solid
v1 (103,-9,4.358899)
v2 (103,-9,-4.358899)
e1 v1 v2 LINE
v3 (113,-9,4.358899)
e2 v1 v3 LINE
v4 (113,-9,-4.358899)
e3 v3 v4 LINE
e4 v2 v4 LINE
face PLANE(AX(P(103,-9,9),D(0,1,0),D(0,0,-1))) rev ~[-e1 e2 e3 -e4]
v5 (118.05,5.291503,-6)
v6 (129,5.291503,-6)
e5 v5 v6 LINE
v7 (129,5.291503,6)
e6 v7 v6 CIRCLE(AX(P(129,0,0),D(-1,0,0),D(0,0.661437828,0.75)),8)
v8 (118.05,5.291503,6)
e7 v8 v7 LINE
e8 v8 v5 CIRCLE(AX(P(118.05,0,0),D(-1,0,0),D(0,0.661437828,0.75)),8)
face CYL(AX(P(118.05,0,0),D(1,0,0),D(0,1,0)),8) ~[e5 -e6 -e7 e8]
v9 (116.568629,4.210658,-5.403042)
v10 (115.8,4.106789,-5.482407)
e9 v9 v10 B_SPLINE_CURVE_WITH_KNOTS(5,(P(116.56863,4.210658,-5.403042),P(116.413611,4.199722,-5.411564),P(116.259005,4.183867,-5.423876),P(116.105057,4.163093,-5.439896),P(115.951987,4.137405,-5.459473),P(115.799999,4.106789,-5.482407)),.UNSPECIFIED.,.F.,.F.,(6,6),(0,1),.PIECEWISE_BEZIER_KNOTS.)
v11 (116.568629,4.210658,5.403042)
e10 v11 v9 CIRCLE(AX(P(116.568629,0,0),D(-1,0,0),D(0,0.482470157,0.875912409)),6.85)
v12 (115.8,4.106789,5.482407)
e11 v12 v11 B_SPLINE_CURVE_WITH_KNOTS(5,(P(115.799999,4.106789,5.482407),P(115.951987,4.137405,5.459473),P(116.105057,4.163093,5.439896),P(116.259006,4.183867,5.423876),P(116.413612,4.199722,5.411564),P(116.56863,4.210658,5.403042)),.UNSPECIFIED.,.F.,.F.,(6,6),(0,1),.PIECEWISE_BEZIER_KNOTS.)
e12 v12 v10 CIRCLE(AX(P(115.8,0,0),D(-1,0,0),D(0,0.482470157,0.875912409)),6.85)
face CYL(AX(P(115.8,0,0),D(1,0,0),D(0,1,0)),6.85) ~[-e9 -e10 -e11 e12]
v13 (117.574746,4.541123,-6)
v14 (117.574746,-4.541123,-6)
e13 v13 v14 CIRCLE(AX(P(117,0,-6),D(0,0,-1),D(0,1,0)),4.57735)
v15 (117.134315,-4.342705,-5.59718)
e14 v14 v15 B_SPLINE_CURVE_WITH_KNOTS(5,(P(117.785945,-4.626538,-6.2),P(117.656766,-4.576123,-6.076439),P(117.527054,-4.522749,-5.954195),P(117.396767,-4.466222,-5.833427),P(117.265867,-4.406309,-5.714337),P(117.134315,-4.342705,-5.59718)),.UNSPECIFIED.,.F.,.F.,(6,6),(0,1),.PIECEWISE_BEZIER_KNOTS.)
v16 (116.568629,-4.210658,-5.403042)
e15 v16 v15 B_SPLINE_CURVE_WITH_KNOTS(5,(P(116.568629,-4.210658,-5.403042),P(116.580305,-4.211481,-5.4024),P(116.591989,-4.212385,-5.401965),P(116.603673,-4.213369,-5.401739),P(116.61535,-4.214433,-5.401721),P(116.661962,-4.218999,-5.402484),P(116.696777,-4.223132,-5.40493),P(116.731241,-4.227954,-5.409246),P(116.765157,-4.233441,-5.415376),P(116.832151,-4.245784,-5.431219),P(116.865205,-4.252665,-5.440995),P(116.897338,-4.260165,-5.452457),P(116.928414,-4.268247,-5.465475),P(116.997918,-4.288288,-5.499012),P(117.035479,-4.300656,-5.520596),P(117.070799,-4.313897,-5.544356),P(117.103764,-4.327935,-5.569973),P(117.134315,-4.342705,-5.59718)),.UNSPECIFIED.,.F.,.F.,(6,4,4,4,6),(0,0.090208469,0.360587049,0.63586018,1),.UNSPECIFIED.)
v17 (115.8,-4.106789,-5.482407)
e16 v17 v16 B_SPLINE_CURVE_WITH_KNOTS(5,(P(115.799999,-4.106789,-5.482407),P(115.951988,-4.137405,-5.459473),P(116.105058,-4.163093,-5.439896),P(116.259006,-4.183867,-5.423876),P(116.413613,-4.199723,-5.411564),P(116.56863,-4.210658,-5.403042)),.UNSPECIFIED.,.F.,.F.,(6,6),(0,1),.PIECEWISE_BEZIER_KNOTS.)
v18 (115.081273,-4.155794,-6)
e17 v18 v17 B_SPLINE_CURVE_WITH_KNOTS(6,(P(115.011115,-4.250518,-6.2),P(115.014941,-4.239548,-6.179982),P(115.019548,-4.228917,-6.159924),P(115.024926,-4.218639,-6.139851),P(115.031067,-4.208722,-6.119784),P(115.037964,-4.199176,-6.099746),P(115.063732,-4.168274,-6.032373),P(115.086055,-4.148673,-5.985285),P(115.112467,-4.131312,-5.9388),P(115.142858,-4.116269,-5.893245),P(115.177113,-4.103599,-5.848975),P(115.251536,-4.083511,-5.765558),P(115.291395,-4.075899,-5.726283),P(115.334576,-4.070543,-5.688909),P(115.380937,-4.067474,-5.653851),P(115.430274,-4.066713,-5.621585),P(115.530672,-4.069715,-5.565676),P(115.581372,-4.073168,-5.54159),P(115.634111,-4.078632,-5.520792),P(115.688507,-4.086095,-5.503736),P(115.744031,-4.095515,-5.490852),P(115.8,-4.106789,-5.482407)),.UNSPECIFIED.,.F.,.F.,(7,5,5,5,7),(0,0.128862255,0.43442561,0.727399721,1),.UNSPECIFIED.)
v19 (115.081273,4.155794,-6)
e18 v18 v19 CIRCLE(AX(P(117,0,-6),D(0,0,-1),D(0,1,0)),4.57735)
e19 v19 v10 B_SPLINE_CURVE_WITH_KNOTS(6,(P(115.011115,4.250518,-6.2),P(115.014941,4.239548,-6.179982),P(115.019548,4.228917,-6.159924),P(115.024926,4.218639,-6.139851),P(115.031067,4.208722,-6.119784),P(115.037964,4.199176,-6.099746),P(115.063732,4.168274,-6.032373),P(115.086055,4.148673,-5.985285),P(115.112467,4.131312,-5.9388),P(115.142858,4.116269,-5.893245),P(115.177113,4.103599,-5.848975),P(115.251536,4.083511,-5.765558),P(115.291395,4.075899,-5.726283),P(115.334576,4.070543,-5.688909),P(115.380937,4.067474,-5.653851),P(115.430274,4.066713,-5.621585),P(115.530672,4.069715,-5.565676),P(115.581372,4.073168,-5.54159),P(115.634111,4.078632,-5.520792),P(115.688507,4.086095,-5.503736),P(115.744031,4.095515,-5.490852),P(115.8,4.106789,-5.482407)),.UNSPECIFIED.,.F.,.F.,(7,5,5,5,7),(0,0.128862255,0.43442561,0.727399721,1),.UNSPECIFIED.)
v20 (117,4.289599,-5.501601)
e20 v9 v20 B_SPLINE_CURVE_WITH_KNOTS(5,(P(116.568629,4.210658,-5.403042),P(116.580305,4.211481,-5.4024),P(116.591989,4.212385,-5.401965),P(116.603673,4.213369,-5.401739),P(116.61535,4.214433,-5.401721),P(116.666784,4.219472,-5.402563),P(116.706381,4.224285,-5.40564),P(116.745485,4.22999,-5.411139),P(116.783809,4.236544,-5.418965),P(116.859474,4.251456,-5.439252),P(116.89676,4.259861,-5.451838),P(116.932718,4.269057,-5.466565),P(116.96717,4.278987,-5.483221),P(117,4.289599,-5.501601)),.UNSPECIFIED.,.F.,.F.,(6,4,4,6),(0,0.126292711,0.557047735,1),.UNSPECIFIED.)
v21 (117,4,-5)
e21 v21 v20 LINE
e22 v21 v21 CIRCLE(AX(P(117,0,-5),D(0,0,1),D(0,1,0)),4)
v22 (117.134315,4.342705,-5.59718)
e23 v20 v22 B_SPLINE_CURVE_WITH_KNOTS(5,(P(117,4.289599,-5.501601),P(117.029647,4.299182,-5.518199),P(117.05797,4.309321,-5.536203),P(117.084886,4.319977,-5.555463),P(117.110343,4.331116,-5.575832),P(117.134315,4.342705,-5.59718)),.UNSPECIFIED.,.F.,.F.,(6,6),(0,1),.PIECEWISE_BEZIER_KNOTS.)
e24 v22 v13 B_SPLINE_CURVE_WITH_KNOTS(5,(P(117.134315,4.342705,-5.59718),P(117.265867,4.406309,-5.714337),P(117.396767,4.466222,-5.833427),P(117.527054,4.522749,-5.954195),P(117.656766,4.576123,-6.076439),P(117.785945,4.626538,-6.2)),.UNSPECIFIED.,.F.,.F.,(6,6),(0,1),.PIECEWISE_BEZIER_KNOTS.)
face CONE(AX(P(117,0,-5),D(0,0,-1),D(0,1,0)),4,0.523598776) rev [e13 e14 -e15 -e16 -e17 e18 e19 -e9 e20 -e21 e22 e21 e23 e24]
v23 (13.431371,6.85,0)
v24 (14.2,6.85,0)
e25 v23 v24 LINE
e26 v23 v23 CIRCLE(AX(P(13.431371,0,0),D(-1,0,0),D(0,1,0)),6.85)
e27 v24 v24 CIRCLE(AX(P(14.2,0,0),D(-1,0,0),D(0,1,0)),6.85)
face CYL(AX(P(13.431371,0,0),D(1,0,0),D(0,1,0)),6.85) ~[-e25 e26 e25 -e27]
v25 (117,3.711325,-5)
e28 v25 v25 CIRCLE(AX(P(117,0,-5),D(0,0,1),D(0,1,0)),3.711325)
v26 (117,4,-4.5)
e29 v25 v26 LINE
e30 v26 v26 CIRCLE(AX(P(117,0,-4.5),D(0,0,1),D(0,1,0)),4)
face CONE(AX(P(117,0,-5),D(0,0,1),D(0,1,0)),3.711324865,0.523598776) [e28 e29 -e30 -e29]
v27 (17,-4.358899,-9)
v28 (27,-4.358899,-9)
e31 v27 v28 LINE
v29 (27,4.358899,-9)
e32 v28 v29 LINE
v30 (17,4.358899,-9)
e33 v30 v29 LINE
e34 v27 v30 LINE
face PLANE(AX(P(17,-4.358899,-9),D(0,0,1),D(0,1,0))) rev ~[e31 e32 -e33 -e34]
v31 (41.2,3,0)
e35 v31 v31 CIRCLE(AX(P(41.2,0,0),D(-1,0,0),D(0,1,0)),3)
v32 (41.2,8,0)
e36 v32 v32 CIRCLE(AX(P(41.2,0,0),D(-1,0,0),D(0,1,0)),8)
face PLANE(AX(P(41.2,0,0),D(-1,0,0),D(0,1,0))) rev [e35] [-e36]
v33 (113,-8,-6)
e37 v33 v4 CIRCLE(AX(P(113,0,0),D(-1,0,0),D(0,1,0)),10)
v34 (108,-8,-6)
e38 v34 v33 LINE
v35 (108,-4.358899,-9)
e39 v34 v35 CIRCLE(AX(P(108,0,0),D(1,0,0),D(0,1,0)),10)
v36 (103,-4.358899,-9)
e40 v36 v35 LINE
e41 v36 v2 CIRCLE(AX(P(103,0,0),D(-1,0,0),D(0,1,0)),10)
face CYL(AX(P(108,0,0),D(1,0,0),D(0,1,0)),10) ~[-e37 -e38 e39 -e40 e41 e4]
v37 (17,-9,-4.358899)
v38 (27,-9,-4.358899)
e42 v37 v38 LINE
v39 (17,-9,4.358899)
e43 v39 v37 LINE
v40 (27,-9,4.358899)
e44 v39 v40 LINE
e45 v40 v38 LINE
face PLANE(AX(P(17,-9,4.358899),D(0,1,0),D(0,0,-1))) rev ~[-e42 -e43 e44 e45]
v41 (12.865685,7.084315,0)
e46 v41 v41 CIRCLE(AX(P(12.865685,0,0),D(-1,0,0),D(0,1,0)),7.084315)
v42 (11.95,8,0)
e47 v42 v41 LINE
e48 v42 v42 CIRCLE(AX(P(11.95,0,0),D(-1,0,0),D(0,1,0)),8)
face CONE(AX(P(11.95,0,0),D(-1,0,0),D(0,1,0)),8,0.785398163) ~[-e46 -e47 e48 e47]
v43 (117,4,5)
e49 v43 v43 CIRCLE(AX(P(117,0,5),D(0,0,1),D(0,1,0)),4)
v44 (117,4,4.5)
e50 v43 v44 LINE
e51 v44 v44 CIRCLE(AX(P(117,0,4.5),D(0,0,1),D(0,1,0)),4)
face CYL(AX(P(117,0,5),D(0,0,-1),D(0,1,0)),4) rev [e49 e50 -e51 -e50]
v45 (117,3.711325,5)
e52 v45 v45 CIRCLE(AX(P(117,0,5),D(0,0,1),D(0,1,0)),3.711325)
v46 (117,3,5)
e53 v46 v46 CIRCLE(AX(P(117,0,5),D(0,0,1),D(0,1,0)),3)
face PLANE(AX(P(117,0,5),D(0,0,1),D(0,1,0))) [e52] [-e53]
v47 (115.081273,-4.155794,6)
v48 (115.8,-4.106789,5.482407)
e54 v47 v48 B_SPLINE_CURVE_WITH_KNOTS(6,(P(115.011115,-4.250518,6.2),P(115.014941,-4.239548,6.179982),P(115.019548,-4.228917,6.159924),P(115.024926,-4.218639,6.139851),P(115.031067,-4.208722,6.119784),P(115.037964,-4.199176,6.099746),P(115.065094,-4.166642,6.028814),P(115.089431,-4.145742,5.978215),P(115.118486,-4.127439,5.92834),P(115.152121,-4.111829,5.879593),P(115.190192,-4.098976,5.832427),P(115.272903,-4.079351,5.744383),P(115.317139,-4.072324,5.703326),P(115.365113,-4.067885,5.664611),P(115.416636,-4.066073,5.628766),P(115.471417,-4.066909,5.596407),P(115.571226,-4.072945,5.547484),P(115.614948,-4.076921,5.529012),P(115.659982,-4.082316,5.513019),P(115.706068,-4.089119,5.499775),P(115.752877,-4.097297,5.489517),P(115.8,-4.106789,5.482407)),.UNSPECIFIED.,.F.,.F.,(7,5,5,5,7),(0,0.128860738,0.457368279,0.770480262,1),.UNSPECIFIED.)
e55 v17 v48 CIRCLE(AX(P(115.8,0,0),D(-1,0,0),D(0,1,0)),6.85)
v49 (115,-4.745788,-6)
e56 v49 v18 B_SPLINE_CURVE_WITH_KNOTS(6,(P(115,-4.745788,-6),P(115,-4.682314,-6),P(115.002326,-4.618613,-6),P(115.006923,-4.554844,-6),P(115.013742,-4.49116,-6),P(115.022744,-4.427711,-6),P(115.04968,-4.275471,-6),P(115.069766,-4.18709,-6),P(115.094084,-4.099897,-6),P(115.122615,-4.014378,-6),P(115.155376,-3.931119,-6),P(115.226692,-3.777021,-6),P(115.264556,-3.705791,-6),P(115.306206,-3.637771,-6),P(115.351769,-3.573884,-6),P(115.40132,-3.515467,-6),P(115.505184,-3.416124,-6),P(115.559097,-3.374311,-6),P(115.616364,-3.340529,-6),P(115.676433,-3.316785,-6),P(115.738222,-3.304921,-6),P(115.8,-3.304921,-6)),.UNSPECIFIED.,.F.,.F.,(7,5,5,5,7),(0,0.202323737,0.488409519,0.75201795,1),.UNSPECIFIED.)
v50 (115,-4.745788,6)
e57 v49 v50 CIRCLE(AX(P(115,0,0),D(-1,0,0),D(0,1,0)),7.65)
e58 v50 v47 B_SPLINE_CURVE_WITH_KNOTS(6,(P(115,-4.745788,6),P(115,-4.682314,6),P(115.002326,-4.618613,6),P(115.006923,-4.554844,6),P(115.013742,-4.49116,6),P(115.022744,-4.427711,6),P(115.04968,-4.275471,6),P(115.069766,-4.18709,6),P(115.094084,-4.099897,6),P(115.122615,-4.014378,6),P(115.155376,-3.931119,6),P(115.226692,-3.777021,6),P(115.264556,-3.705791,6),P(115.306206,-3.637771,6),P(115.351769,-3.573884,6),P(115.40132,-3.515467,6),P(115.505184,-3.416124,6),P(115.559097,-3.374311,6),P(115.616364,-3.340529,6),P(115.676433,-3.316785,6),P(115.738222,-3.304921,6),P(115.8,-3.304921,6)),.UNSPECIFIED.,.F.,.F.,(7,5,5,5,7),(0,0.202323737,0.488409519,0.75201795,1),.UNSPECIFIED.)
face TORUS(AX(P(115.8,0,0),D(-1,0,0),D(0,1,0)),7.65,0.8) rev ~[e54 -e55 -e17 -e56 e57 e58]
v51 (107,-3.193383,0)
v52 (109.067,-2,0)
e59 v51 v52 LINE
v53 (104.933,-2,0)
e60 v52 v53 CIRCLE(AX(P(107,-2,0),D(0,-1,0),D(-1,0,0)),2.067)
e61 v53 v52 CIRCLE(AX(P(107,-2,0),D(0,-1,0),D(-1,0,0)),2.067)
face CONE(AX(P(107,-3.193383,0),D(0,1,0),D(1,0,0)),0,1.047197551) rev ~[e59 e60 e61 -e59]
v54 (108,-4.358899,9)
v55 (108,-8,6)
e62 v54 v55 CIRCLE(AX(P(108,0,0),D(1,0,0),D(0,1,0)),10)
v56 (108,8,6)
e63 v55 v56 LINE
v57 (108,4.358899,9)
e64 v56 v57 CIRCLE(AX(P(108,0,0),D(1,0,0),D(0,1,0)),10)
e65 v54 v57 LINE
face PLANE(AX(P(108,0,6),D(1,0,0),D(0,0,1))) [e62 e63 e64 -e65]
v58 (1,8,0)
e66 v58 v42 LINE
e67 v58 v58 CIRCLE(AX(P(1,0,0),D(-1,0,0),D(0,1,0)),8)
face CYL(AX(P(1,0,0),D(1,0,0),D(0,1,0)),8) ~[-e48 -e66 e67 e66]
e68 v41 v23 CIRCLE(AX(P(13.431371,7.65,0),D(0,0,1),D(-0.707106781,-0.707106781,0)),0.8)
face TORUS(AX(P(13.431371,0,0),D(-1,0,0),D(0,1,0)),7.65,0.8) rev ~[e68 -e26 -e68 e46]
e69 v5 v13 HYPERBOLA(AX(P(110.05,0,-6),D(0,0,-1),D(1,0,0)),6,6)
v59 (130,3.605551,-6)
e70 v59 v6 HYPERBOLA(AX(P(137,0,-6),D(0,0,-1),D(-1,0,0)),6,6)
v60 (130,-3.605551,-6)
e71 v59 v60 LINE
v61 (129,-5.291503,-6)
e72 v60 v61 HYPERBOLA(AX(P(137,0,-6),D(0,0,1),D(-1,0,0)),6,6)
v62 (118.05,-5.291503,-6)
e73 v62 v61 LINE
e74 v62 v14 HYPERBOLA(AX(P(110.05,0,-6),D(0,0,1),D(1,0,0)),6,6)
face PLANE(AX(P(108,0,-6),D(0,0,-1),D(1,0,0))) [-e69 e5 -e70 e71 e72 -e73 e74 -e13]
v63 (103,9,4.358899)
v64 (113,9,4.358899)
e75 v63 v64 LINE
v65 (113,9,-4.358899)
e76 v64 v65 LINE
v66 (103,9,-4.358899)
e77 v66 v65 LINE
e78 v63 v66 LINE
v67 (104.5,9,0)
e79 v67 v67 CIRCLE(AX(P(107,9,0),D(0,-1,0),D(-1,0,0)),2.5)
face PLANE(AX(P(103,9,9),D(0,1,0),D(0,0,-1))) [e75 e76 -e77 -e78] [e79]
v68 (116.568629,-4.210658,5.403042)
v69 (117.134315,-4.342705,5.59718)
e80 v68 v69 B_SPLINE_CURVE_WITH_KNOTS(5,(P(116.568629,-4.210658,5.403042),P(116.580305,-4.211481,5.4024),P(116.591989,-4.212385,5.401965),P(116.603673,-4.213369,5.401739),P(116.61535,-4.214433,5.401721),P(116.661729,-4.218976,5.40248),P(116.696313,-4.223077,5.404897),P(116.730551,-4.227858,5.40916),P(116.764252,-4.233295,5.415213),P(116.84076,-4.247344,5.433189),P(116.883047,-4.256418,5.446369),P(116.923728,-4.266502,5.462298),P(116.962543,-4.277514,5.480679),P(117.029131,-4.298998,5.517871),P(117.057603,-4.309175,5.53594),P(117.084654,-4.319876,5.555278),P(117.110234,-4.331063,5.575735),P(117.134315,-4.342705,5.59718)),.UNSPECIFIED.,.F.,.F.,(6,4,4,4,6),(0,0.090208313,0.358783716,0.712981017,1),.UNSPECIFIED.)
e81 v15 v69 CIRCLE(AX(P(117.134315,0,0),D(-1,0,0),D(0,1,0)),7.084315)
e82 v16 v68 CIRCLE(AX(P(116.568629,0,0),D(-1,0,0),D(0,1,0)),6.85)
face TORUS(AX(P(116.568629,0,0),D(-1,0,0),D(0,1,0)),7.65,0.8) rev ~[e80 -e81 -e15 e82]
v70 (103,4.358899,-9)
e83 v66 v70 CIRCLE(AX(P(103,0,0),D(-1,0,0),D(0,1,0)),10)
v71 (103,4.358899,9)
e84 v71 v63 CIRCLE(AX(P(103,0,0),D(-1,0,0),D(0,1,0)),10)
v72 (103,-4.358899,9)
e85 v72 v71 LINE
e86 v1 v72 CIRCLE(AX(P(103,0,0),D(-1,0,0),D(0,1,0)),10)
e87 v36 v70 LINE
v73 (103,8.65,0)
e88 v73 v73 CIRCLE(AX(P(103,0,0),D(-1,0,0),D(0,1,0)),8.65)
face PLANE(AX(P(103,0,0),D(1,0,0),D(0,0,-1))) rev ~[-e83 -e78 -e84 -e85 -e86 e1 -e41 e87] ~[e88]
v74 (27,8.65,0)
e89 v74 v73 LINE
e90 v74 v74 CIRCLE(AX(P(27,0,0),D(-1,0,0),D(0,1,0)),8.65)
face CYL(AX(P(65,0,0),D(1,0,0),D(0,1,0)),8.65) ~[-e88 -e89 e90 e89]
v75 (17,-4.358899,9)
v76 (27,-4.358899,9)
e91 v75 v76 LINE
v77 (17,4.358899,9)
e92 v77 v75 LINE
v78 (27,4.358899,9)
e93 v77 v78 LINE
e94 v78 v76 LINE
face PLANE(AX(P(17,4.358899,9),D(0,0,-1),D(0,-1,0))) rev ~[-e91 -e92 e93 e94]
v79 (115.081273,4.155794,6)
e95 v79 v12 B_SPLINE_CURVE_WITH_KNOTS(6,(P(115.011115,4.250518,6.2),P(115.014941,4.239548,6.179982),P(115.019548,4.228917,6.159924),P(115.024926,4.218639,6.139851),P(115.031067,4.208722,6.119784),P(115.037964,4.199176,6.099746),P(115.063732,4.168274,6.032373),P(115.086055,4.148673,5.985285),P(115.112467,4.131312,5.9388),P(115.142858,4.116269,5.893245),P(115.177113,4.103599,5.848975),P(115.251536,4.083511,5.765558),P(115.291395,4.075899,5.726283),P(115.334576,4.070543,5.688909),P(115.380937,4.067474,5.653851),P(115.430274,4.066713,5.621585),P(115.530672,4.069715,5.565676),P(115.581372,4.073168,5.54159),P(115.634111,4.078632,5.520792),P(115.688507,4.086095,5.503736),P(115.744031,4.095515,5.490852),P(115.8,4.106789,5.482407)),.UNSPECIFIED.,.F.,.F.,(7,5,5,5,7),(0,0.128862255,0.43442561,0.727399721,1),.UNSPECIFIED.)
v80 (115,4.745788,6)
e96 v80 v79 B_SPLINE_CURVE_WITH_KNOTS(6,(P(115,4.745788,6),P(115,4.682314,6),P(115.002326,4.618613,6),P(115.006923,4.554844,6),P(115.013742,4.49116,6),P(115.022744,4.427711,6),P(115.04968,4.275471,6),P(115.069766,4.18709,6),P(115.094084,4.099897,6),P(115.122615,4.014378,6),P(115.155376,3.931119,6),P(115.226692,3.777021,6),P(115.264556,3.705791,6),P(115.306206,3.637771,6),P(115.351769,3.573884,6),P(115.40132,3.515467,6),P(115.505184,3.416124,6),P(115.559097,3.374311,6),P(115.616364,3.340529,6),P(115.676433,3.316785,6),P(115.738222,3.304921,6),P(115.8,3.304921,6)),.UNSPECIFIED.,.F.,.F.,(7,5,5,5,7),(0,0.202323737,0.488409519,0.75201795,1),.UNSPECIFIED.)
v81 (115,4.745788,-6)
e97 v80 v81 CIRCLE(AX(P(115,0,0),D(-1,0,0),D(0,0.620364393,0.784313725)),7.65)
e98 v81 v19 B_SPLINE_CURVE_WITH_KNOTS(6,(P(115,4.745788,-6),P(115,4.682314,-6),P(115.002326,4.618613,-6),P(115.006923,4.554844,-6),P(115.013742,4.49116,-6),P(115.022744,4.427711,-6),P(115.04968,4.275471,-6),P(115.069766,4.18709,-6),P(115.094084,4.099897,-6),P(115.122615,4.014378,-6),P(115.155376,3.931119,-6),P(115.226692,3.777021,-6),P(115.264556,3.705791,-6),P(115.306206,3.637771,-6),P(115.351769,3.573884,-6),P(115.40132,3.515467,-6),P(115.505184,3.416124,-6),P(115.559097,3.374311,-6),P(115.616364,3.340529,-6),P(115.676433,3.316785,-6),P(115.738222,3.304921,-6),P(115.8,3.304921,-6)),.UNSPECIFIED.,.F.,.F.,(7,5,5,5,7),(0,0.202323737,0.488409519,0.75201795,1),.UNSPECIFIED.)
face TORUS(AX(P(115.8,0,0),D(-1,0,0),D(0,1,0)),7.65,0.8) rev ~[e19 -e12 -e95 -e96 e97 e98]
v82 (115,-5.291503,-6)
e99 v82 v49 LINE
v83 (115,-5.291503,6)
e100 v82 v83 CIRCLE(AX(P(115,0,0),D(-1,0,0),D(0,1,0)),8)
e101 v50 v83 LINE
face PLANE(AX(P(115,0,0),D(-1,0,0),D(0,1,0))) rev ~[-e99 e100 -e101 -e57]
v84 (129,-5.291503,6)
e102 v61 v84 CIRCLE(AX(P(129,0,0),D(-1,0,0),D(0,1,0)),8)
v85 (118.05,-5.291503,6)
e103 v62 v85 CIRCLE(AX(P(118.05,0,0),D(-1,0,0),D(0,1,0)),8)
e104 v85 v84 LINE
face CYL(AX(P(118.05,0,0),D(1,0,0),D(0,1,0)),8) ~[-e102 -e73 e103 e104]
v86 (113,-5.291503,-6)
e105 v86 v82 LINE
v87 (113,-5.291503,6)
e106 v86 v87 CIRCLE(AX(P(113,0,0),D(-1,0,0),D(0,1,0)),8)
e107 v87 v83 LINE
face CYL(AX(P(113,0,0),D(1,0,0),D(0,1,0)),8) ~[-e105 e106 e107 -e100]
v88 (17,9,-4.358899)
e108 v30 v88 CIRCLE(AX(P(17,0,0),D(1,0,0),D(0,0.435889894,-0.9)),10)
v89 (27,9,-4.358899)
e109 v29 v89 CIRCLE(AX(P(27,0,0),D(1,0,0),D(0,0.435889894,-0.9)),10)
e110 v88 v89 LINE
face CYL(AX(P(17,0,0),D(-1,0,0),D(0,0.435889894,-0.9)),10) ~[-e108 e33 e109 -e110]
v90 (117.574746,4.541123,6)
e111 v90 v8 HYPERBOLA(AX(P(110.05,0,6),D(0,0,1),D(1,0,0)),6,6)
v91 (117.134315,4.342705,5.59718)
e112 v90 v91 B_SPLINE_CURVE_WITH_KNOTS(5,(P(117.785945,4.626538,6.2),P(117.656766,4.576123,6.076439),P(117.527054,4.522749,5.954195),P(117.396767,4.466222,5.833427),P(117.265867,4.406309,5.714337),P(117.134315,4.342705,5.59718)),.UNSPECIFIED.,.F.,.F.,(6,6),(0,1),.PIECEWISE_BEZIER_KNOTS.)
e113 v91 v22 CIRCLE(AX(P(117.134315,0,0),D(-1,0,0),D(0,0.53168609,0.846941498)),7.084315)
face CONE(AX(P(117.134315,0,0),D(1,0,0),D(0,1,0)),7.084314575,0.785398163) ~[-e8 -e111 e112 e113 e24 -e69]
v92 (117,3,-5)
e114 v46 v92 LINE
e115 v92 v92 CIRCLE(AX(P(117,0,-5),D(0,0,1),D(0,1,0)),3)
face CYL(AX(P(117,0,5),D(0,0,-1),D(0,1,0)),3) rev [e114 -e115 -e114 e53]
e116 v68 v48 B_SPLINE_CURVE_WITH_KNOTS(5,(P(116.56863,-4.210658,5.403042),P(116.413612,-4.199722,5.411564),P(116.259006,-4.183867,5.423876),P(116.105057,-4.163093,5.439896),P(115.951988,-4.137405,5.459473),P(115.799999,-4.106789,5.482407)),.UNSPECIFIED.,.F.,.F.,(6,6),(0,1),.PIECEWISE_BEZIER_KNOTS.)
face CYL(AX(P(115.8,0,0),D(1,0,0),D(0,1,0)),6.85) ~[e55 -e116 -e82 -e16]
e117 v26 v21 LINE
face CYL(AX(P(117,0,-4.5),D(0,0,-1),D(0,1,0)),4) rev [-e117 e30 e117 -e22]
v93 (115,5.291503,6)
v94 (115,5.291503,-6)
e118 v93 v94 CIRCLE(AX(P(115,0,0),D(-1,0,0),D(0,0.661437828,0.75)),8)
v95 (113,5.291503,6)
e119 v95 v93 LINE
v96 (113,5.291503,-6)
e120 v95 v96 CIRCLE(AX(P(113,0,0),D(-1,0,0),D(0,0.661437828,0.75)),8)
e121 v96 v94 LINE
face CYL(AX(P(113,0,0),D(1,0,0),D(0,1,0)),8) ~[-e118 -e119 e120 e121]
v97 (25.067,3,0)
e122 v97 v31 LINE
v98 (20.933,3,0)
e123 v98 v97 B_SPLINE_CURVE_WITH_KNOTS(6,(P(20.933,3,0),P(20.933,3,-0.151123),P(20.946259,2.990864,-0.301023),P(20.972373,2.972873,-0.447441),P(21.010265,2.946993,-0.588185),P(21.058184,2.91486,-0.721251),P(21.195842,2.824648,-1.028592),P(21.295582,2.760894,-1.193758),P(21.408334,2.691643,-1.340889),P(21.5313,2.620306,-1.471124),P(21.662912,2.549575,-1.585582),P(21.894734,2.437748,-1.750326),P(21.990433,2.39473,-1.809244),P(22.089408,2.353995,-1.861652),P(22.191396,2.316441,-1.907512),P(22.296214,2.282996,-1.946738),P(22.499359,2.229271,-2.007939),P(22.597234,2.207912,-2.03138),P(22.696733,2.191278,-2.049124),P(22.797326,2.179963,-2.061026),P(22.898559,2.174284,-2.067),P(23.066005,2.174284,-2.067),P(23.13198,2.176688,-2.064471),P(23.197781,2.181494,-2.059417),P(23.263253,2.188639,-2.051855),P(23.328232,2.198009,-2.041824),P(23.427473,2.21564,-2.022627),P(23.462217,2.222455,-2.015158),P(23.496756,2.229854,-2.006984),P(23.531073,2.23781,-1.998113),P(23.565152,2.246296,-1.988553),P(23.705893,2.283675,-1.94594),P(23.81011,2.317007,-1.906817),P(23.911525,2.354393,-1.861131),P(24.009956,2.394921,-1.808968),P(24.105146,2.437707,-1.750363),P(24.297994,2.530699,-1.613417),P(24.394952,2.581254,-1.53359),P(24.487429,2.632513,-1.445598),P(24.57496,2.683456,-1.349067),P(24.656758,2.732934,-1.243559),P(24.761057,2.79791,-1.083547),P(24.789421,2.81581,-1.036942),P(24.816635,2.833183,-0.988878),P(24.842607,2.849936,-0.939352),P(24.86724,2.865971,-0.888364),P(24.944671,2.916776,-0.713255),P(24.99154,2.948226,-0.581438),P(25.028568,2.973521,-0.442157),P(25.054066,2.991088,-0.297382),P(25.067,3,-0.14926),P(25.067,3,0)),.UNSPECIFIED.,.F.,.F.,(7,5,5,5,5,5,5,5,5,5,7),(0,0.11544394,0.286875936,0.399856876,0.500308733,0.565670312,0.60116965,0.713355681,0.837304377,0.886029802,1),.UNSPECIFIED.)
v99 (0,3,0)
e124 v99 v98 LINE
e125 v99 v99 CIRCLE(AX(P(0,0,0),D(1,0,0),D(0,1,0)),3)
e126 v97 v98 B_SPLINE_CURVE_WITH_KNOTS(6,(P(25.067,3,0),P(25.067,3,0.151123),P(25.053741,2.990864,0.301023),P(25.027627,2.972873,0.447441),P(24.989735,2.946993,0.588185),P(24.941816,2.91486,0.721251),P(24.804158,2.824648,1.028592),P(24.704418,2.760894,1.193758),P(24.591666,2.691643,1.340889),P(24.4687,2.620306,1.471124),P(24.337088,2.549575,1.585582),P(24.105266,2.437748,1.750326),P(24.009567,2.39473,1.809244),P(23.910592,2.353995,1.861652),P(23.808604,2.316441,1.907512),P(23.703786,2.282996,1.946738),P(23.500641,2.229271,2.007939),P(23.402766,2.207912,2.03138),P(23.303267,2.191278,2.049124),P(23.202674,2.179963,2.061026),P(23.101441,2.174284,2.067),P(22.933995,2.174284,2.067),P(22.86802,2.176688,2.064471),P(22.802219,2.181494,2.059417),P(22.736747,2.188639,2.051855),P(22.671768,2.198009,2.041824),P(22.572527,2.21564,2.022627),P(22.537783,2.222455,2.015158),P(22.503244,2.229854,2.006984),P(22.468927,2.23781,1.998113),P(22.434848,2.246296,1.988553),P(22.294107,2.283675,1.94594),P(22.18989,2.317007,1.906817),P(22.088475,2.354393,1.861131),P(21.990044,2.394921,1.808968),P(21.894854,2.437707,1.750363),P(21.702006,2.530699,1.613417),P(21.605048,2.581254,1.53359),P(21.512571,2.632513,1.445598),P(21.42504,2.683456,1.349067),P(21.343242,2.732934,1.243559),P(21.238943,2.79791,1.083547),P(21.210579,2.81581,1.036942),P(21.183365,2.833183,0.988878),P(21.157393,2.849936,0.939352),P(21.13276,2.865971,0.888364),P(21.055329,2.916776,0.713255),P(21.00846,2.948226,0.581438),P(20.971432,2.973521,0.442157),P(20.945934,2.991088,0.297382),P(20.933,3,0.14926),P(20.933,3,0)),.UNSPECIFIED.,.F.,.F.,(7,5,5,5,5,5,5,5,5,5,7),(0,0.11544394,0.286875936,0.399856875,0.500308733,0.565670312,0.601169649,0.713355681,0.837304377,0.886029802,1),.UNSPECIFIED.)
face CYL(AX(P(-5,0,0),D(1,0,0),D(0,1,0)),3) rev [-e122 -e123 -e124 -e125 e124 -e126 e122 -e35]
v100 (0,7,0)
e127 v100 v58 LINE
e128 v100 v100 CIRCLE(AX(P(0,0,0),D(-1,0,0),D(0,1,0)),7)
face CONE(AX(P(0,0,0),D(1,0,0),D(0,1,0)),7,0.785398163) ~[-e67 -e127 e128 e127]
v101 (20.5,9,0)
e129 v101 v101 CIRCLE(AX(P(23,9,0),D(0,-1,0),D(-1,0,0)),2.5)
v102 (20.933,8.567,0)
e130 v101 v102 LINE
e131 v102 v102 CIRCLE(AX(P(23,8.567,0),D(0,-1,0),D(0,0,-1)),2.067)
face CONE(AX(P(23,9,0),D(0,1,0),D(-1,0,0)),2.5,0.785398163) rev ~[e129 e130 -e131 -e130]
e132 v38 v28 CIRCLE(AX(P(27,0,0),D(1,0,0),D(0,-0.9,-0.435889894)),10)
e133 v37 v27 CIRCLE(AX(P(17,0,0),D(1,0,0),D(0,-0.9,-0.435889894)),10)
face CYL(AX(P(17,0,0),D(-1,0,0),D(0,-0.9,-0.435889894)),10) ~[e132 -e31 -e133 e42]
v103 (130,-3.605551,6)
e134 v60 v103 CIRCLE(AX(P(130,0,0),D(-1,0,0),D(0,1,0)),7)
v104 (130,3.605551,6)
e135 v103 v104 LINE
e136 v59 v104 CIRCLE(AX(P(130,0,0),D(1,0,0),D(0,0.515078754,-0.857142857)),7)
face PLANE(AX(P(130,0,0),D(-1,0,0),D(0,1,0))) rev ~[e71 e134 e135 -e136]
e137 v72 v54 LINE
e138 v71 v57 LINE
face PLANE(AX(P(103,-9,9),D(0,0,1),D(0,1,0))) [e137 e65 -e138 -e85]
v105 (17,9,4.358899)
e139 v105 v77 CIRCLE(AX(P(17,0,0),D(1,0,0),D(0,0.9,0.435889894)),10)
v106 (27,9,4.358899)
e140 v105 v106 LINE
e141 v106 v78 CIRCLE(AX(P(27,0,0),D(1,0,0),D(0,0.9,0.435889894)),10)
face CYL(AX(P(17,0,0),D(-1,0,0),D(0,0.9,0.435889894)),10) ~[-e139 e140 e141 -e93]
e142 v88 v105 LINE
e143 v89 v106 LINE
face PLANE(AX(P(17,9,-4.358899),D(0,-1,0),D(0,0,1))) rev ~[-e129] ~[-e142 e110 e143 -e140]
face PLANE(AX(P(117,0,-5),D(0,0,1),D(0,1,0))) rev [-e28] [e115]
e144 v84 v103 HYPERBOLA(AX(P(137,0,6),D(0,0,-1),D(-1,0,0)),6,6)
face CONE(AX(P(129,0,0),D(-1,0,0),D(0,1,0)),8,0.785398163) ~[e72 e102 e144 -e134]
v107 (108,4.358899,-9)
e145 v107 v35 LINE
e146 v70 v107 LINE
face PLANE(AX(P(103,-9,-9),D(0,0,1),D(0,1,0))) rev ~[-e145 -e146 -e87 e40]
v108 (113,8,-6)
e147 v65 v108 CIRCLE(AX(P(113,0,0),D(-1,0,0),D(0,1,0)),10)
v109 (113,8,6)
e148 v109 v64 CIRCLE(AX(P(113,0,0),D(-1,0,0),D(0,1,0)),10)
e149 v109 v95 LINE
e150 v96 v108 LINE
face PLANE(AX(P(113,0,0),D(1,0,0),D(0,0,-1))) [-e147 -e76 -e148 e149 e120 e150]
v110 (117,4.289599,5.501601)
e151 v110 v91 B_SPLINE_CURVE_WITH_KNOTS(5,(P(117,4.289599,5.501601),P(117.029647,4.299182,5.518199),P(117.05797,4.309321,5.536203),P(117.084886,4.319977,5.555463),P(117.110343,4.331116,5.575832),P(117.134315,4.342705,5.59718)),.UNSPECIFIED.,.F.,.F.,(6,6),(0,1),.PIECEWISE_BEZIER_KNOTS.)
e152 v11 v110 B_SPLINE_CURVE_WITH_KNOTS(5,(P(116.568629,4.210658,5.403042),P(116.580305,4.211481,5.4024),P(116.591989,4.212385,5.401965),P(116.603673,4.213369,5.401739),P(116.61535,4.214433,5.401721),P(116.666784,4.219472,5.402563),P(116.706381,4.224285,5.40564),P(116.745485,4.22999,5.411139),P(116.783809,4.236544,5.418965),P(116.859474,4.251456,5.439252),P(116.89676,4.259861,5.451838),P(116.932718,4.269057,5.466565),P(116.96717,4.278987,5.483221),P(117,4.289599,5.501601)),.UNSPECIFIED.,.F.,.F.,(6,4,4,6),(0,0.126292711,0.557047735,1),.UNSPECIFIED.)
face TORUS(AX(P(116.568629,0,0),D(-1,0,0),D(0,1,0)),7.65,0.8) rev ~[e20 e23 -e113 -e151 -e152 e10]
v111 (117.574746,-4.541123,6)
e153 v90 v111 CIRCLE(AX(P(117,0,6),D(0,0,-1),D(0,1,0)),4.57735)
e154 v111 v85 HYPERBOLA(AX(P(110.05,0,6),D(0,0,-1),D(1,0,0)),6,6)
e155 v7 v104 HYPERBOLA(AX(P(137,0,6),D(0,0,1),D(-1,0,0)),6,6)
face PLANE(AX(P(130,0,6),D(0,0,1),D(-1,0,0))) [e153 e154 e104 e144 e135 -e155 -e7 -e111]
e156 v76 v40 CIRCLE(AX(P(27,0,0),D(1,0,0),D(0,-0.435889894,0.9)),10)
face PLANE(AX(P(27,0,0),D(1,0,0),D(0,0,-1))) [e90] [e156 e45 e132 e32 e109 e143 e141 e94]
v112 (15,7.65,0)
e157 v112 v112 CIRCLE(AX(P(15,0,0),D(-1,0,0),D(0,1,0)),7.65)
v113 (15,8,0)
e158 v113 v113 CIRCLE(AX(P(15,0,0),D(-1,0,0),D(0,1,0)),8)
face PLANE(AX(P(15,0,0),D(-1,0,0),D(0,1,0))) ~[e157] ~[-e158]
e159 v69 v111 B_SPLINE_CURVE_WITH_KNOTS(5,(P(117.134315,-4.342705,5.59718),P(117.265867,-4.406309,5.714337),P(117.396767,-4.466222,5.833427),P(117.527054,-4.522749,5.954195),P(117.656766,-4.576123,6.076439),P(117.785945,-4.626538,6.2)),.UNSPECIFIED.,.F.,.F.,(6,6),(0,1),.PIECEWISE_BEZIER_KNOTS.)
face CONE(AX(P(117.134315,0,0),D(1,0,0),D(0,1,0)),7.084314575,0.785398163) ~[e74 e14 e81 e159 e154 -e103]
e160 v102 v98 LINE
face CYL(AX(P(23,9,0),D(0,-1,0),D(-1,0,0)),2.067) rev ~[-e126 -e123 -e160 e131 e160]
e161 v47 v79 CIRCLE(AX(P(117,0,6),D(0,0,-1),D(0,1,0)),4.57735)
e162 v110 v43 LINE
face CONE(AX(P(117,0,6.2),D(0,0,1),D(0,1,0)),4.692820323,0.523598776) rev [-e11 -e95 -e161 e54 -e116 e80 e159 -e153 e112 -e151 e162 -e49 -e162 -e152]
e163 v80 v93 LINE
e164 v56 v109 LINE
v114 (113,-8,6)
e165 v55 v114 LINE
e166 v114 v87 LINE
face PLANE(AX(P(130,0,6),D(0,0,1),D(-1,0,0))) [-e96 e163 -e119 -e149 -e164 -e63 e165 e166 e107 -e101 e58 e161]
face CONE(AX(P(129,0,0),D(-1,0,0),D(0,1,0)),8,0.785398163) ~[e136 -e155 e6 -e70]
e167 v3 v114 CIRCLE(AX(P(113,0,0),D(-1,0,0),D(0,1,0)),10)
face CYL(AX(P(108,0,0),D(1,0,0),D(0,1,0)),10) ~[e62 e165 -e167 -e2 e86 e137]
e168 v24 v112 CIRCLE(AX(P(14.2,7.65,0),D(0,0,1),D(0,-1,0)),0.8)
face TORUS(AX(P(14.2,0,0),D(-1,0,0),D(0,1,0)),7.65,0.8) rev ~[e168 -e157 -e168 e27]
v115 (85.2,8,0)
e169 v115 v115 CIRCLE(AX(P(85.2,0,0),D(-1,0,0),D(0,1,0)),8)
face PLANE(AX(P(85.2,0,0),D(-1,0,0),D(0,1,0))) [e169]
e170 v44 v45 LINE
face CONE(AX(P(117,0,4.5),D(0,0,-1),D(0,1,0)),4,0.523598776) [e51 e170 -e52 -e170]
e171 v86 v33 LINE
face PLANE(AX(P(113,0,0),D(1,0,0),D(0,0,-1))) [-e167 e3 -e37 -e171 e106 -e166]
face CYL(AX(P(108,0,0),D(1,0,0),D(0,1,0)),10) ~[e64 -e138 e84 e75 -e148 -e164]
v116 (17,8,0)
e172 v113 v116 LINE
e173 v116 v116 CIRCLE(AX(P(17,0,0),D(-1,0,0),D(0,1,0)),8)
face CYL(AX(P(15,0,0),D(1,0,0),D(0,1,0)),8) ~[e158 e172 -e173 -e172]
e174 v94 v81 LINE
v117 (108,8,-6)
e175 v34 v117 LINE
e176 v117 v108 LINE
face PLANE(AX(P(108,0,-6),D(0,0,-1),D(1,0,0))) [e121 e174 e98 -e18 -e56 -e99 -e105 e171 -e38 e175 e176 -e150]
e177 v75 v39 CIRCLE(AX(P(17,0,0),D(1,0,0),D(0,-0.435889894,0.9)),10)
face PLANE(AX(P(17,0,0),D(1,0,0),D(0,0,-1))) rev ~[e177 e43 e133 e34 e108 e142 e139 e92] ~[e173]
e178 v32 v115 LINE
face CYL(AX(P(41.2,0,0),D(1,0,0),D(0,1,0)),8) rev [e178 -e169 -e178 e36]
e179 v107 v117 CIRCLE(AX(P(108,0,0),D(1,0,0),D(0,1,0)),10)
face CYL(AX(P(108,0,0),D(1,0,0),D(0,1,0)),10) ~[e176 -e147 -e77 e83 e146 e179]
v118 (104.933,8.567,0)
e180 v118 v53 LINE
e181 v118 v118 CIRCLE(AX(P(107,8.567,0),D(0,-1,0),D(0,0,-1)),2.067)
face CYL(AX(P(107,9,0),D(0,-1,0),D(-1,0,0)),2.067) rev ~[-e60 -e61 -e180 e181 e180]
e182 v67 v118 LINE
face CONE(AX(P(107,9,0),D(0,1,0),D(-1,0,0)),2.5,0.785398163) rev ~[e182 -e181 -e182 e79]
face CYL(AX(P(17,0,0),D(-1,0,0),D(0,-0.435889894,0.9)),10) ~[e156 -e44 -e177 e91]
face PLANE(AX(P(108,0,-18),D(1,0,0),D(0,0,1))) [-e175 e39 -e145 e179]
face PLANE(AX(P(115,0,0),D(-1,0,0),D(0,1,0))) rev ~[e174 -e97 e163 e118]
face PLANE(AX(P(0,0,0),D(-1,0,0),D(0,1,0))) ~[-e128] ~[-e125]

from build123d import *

# Parameters (mm, degrees)
BOSS_EXTRUDE1_DEPTH     = 10
SKETCH3_W               = 76
SKETCH3_H               = 8.65
SKETCH4_W               = 18
SKETCH4_H               = 18
BOSS_EXTRUDE2_DEPTH     = 10
SKETCH5_W               = 10
SKETCH5_H               = 10
CUT_EXTRUDE1_DEPTH      = 10
CUT_EXTRUDE1_DEPTH_BACK = 10
HOLE1_D                 = 4.134
HOLE1_DEPTH             = 9
HOLE1_CSINK_D           = 5
HOLE1_CSINK_ANGLE       = 90
HOLE2_D                 = 4.134
HOLE2_DEPTH             = 11
HOLE2_CSINK_D           = 5
HOLE2_CSINK_ANGLE       = 90
HOLE2_TIP               = 1.193383006


with BuildPart() as part:
    # Sketch1 → Revolve1 (revolve)
    with BuildSketch(Plane.XY):
        with BuildLine():
            Line((0, 0), (0, 7))
            Line((0, 7), (1, 8))
            Line((1, 8), (11.95, 8))
            Line((11.95, 8), (12.865685425, 7.084314575))
            ThreePointArc((12.865685425, 7.084314575), (13.125224104, 6.910896374), (13.43137085, 6.85))
            Line((13.43137085, 6.85), (14.2, 6.85))
            ThreePointArc((14.2, 6.85), (14.765685425, 7.084314575), (15, 7.65))
            Line((15, 7.65), (15, 8))
            Line((15, 8), (17, 8))
            Line((17, 8), (17, 0))
            Line((17, 0), (0, 0))
        make_face()
    revolve(axis=Axis((17, 0, 0), (-1, 0, 0)))

    # Sketch2 → Boss-Extrude1 (add)
    with BuildSketch(Plane(origin=(17, 0, 0), x_dir=(0, 0, -1), z_dir=(1, 0, 0))):
        with BuildLine():
            Line((-4.358898944, -9), (4.358898944, -9))
            ThreePointArc((4.358898944, -9), (7.071067812, -7.071067812), (9, -4.358898944))
            Line((9, -4.358898944), (9, 4.358898944))
            ThreePointArc((9, 4.358898944), (7.071067812, 7.071067812), (4.358898944, 9))
            Line((4.358898944, 9), (-4.358898944, 9))
            ThreePointArc((-4.358898944, 9), (-7.071067812, 7.071067812), (-9, 4.358898944))
            Line((-9, 4.358898944), (-9, -4.358898944))
            ThreePointArc((-9, -4.358898944), (-7.071067812, -7.071067812), (-4.358898944, -9))
        make_face()
    extrude(amount=BOSS_EXTRUDE1_DEPTH)

    # Sketch3 → Revolve2 (revolve)
    with BuildSketch(Plane.XY):
        with Locations((65, 4.325)):
            Rectangle(SKETCH3_W, SKETCH3_H)
    revolve(axis=Axis((103, 0, 0), (-1, 0, 0)))

    # Sketch4 → Boss-Extrude2 (add)
    with BuildSketch(Plane(origin=(103, 0, 0), x_dir=(0, 0, -1), z_dir=(1, 0, 0))):
        Rectangle(SKETCH4_W, SKETCH4_H)
    extrude(amount=BOSS_EXTRUDE2_DEPTH)

    # Sketch5 → Cut-Revolve1 (revolve, cut)
    with BuildSketch(Plane.XY):
        with Locations((108, 15)):
            Rectangle(SKETCH5_W, SKETCH5_H)
    revolve(axis=Axis((113, 0, 0), (-1, 0, 0)), mode=Mode.SUBTRACT)

    # Sketch6 → Revolve3 (revolve)
    with BuildSketch(Plane.XY):
        with BuildLine():
            Line((113, 0), (113, 8))
            Line((113, 8), (115, 8))
            Line((115, 8), (115, 7.65))
            ThreePointArc((115, 7.65), (115.234314575, 7.084314575), (115.8, 6.85))
            Line((115.8, 6.85), (116.56862915, 6.85))
            ThreePointArc((116.56862915, 6.85), (116.874775896, 6.910896374), (117.134314575, 7.084314575))
            Line((117.134314575, 7.084314575), (118.05, 8))
            Line((118.05, 8), (129, 8))
            Line((129, 8), (130, 7))
            Line((130, 7), (130, 0))
            Line((130, 0), (113, 0))
        make_face()
    revolve(axis=Axis((130, 0, 0), (-1, 0, 0)))

    # Sketch7 → Cut-Extrude1 (cut, two sides: drawn at the far end of the back side and taken through both)
    with BuildSketch(Plane(origin=(0, 0, 0), x_dir=(1, 0, 0), z_dir=(0, 1, 0)).offset(-CUT_EXTRUDE1_DEPTH_BACK)):
        Polygon((108, 18), (108, 6), (130, 6), (130, -6), (108, -6), (108, -18), (142, -18), (142, 18), align=None)
    extrude(amount=CUT_EXTRUDE1_DEPTH + CUT_EXTRUDE1_DEPTH_BACK, mode=Mode.SUBTRACT)

    # Sketch8 → Cut-Revolve2 (revolve, cut)
    with BuildSketch(Plane(origin=(117, 0, 0), x_dir=(0, 0, -1), z_dir=(1, 0, 0))):
        Polygon((-6.2, 0), (-6.2, 4.692820323), (-5, 4), (-4.5, 4), (-5, 3.711324865), (-5, 3), (5, 3), (5, 3.711324865), (4.5, 4), (5, 4), (6.2, 4.692820323), (6.2, 0), align=None)
    revolve(axis=Axis((117, 0, -5), (0, 0, 1)), mode=Mode.SUBTRACT)

    # Hole1
    with Locations(Plane(origin=(0, 9, 0), x_dir=(1, 0, 0), z_dir=(0, 1, 0))):
        with Locations((23, 0)):
            CounterSinkHole(HOLE1_D / 2, HOLE1_CSINK_D / 2, depth=HOLE1_DEPTH, counter_sink_angle=HOLE1_CSINK_ANGLE)

    # Hole2
    with Locations(Plane(origin=(0, 9, 0), x_dir=(1, 0, 0), z_dir=(0, 1, 0))):
        with Locations((107, 0)):
            CounterSinkHole(HOLE2_D / 2, HOLE2_CSINK_D / 2, depth=HOLE2_DEPTH, counter_sink_angle=HOLE2_CSINK_ANGLE)
            with Locations((0, 0, -(HOLE2_DEPTH + HOLE2_TIP / 2))):  # 120° drill point
                Cone(0, HOLE2_D / 2, HOLE2_TIP, mode=Mode.SUBTRACT)

    # Sketch13 → Cut-Revolve3 (revolve, cut)
    with BuildSketch(Plane.XY):
        Polygon((-5, 0), (-5, 3), (41.2, 3), (41.2, 8), (85.2, 8), (85.2, 0), align=None)
    revolve(axis=Axis((85.2, 0, 0), (-1, 0, 0)), mode=Mode.SUBTRACT)


solid = part.part
